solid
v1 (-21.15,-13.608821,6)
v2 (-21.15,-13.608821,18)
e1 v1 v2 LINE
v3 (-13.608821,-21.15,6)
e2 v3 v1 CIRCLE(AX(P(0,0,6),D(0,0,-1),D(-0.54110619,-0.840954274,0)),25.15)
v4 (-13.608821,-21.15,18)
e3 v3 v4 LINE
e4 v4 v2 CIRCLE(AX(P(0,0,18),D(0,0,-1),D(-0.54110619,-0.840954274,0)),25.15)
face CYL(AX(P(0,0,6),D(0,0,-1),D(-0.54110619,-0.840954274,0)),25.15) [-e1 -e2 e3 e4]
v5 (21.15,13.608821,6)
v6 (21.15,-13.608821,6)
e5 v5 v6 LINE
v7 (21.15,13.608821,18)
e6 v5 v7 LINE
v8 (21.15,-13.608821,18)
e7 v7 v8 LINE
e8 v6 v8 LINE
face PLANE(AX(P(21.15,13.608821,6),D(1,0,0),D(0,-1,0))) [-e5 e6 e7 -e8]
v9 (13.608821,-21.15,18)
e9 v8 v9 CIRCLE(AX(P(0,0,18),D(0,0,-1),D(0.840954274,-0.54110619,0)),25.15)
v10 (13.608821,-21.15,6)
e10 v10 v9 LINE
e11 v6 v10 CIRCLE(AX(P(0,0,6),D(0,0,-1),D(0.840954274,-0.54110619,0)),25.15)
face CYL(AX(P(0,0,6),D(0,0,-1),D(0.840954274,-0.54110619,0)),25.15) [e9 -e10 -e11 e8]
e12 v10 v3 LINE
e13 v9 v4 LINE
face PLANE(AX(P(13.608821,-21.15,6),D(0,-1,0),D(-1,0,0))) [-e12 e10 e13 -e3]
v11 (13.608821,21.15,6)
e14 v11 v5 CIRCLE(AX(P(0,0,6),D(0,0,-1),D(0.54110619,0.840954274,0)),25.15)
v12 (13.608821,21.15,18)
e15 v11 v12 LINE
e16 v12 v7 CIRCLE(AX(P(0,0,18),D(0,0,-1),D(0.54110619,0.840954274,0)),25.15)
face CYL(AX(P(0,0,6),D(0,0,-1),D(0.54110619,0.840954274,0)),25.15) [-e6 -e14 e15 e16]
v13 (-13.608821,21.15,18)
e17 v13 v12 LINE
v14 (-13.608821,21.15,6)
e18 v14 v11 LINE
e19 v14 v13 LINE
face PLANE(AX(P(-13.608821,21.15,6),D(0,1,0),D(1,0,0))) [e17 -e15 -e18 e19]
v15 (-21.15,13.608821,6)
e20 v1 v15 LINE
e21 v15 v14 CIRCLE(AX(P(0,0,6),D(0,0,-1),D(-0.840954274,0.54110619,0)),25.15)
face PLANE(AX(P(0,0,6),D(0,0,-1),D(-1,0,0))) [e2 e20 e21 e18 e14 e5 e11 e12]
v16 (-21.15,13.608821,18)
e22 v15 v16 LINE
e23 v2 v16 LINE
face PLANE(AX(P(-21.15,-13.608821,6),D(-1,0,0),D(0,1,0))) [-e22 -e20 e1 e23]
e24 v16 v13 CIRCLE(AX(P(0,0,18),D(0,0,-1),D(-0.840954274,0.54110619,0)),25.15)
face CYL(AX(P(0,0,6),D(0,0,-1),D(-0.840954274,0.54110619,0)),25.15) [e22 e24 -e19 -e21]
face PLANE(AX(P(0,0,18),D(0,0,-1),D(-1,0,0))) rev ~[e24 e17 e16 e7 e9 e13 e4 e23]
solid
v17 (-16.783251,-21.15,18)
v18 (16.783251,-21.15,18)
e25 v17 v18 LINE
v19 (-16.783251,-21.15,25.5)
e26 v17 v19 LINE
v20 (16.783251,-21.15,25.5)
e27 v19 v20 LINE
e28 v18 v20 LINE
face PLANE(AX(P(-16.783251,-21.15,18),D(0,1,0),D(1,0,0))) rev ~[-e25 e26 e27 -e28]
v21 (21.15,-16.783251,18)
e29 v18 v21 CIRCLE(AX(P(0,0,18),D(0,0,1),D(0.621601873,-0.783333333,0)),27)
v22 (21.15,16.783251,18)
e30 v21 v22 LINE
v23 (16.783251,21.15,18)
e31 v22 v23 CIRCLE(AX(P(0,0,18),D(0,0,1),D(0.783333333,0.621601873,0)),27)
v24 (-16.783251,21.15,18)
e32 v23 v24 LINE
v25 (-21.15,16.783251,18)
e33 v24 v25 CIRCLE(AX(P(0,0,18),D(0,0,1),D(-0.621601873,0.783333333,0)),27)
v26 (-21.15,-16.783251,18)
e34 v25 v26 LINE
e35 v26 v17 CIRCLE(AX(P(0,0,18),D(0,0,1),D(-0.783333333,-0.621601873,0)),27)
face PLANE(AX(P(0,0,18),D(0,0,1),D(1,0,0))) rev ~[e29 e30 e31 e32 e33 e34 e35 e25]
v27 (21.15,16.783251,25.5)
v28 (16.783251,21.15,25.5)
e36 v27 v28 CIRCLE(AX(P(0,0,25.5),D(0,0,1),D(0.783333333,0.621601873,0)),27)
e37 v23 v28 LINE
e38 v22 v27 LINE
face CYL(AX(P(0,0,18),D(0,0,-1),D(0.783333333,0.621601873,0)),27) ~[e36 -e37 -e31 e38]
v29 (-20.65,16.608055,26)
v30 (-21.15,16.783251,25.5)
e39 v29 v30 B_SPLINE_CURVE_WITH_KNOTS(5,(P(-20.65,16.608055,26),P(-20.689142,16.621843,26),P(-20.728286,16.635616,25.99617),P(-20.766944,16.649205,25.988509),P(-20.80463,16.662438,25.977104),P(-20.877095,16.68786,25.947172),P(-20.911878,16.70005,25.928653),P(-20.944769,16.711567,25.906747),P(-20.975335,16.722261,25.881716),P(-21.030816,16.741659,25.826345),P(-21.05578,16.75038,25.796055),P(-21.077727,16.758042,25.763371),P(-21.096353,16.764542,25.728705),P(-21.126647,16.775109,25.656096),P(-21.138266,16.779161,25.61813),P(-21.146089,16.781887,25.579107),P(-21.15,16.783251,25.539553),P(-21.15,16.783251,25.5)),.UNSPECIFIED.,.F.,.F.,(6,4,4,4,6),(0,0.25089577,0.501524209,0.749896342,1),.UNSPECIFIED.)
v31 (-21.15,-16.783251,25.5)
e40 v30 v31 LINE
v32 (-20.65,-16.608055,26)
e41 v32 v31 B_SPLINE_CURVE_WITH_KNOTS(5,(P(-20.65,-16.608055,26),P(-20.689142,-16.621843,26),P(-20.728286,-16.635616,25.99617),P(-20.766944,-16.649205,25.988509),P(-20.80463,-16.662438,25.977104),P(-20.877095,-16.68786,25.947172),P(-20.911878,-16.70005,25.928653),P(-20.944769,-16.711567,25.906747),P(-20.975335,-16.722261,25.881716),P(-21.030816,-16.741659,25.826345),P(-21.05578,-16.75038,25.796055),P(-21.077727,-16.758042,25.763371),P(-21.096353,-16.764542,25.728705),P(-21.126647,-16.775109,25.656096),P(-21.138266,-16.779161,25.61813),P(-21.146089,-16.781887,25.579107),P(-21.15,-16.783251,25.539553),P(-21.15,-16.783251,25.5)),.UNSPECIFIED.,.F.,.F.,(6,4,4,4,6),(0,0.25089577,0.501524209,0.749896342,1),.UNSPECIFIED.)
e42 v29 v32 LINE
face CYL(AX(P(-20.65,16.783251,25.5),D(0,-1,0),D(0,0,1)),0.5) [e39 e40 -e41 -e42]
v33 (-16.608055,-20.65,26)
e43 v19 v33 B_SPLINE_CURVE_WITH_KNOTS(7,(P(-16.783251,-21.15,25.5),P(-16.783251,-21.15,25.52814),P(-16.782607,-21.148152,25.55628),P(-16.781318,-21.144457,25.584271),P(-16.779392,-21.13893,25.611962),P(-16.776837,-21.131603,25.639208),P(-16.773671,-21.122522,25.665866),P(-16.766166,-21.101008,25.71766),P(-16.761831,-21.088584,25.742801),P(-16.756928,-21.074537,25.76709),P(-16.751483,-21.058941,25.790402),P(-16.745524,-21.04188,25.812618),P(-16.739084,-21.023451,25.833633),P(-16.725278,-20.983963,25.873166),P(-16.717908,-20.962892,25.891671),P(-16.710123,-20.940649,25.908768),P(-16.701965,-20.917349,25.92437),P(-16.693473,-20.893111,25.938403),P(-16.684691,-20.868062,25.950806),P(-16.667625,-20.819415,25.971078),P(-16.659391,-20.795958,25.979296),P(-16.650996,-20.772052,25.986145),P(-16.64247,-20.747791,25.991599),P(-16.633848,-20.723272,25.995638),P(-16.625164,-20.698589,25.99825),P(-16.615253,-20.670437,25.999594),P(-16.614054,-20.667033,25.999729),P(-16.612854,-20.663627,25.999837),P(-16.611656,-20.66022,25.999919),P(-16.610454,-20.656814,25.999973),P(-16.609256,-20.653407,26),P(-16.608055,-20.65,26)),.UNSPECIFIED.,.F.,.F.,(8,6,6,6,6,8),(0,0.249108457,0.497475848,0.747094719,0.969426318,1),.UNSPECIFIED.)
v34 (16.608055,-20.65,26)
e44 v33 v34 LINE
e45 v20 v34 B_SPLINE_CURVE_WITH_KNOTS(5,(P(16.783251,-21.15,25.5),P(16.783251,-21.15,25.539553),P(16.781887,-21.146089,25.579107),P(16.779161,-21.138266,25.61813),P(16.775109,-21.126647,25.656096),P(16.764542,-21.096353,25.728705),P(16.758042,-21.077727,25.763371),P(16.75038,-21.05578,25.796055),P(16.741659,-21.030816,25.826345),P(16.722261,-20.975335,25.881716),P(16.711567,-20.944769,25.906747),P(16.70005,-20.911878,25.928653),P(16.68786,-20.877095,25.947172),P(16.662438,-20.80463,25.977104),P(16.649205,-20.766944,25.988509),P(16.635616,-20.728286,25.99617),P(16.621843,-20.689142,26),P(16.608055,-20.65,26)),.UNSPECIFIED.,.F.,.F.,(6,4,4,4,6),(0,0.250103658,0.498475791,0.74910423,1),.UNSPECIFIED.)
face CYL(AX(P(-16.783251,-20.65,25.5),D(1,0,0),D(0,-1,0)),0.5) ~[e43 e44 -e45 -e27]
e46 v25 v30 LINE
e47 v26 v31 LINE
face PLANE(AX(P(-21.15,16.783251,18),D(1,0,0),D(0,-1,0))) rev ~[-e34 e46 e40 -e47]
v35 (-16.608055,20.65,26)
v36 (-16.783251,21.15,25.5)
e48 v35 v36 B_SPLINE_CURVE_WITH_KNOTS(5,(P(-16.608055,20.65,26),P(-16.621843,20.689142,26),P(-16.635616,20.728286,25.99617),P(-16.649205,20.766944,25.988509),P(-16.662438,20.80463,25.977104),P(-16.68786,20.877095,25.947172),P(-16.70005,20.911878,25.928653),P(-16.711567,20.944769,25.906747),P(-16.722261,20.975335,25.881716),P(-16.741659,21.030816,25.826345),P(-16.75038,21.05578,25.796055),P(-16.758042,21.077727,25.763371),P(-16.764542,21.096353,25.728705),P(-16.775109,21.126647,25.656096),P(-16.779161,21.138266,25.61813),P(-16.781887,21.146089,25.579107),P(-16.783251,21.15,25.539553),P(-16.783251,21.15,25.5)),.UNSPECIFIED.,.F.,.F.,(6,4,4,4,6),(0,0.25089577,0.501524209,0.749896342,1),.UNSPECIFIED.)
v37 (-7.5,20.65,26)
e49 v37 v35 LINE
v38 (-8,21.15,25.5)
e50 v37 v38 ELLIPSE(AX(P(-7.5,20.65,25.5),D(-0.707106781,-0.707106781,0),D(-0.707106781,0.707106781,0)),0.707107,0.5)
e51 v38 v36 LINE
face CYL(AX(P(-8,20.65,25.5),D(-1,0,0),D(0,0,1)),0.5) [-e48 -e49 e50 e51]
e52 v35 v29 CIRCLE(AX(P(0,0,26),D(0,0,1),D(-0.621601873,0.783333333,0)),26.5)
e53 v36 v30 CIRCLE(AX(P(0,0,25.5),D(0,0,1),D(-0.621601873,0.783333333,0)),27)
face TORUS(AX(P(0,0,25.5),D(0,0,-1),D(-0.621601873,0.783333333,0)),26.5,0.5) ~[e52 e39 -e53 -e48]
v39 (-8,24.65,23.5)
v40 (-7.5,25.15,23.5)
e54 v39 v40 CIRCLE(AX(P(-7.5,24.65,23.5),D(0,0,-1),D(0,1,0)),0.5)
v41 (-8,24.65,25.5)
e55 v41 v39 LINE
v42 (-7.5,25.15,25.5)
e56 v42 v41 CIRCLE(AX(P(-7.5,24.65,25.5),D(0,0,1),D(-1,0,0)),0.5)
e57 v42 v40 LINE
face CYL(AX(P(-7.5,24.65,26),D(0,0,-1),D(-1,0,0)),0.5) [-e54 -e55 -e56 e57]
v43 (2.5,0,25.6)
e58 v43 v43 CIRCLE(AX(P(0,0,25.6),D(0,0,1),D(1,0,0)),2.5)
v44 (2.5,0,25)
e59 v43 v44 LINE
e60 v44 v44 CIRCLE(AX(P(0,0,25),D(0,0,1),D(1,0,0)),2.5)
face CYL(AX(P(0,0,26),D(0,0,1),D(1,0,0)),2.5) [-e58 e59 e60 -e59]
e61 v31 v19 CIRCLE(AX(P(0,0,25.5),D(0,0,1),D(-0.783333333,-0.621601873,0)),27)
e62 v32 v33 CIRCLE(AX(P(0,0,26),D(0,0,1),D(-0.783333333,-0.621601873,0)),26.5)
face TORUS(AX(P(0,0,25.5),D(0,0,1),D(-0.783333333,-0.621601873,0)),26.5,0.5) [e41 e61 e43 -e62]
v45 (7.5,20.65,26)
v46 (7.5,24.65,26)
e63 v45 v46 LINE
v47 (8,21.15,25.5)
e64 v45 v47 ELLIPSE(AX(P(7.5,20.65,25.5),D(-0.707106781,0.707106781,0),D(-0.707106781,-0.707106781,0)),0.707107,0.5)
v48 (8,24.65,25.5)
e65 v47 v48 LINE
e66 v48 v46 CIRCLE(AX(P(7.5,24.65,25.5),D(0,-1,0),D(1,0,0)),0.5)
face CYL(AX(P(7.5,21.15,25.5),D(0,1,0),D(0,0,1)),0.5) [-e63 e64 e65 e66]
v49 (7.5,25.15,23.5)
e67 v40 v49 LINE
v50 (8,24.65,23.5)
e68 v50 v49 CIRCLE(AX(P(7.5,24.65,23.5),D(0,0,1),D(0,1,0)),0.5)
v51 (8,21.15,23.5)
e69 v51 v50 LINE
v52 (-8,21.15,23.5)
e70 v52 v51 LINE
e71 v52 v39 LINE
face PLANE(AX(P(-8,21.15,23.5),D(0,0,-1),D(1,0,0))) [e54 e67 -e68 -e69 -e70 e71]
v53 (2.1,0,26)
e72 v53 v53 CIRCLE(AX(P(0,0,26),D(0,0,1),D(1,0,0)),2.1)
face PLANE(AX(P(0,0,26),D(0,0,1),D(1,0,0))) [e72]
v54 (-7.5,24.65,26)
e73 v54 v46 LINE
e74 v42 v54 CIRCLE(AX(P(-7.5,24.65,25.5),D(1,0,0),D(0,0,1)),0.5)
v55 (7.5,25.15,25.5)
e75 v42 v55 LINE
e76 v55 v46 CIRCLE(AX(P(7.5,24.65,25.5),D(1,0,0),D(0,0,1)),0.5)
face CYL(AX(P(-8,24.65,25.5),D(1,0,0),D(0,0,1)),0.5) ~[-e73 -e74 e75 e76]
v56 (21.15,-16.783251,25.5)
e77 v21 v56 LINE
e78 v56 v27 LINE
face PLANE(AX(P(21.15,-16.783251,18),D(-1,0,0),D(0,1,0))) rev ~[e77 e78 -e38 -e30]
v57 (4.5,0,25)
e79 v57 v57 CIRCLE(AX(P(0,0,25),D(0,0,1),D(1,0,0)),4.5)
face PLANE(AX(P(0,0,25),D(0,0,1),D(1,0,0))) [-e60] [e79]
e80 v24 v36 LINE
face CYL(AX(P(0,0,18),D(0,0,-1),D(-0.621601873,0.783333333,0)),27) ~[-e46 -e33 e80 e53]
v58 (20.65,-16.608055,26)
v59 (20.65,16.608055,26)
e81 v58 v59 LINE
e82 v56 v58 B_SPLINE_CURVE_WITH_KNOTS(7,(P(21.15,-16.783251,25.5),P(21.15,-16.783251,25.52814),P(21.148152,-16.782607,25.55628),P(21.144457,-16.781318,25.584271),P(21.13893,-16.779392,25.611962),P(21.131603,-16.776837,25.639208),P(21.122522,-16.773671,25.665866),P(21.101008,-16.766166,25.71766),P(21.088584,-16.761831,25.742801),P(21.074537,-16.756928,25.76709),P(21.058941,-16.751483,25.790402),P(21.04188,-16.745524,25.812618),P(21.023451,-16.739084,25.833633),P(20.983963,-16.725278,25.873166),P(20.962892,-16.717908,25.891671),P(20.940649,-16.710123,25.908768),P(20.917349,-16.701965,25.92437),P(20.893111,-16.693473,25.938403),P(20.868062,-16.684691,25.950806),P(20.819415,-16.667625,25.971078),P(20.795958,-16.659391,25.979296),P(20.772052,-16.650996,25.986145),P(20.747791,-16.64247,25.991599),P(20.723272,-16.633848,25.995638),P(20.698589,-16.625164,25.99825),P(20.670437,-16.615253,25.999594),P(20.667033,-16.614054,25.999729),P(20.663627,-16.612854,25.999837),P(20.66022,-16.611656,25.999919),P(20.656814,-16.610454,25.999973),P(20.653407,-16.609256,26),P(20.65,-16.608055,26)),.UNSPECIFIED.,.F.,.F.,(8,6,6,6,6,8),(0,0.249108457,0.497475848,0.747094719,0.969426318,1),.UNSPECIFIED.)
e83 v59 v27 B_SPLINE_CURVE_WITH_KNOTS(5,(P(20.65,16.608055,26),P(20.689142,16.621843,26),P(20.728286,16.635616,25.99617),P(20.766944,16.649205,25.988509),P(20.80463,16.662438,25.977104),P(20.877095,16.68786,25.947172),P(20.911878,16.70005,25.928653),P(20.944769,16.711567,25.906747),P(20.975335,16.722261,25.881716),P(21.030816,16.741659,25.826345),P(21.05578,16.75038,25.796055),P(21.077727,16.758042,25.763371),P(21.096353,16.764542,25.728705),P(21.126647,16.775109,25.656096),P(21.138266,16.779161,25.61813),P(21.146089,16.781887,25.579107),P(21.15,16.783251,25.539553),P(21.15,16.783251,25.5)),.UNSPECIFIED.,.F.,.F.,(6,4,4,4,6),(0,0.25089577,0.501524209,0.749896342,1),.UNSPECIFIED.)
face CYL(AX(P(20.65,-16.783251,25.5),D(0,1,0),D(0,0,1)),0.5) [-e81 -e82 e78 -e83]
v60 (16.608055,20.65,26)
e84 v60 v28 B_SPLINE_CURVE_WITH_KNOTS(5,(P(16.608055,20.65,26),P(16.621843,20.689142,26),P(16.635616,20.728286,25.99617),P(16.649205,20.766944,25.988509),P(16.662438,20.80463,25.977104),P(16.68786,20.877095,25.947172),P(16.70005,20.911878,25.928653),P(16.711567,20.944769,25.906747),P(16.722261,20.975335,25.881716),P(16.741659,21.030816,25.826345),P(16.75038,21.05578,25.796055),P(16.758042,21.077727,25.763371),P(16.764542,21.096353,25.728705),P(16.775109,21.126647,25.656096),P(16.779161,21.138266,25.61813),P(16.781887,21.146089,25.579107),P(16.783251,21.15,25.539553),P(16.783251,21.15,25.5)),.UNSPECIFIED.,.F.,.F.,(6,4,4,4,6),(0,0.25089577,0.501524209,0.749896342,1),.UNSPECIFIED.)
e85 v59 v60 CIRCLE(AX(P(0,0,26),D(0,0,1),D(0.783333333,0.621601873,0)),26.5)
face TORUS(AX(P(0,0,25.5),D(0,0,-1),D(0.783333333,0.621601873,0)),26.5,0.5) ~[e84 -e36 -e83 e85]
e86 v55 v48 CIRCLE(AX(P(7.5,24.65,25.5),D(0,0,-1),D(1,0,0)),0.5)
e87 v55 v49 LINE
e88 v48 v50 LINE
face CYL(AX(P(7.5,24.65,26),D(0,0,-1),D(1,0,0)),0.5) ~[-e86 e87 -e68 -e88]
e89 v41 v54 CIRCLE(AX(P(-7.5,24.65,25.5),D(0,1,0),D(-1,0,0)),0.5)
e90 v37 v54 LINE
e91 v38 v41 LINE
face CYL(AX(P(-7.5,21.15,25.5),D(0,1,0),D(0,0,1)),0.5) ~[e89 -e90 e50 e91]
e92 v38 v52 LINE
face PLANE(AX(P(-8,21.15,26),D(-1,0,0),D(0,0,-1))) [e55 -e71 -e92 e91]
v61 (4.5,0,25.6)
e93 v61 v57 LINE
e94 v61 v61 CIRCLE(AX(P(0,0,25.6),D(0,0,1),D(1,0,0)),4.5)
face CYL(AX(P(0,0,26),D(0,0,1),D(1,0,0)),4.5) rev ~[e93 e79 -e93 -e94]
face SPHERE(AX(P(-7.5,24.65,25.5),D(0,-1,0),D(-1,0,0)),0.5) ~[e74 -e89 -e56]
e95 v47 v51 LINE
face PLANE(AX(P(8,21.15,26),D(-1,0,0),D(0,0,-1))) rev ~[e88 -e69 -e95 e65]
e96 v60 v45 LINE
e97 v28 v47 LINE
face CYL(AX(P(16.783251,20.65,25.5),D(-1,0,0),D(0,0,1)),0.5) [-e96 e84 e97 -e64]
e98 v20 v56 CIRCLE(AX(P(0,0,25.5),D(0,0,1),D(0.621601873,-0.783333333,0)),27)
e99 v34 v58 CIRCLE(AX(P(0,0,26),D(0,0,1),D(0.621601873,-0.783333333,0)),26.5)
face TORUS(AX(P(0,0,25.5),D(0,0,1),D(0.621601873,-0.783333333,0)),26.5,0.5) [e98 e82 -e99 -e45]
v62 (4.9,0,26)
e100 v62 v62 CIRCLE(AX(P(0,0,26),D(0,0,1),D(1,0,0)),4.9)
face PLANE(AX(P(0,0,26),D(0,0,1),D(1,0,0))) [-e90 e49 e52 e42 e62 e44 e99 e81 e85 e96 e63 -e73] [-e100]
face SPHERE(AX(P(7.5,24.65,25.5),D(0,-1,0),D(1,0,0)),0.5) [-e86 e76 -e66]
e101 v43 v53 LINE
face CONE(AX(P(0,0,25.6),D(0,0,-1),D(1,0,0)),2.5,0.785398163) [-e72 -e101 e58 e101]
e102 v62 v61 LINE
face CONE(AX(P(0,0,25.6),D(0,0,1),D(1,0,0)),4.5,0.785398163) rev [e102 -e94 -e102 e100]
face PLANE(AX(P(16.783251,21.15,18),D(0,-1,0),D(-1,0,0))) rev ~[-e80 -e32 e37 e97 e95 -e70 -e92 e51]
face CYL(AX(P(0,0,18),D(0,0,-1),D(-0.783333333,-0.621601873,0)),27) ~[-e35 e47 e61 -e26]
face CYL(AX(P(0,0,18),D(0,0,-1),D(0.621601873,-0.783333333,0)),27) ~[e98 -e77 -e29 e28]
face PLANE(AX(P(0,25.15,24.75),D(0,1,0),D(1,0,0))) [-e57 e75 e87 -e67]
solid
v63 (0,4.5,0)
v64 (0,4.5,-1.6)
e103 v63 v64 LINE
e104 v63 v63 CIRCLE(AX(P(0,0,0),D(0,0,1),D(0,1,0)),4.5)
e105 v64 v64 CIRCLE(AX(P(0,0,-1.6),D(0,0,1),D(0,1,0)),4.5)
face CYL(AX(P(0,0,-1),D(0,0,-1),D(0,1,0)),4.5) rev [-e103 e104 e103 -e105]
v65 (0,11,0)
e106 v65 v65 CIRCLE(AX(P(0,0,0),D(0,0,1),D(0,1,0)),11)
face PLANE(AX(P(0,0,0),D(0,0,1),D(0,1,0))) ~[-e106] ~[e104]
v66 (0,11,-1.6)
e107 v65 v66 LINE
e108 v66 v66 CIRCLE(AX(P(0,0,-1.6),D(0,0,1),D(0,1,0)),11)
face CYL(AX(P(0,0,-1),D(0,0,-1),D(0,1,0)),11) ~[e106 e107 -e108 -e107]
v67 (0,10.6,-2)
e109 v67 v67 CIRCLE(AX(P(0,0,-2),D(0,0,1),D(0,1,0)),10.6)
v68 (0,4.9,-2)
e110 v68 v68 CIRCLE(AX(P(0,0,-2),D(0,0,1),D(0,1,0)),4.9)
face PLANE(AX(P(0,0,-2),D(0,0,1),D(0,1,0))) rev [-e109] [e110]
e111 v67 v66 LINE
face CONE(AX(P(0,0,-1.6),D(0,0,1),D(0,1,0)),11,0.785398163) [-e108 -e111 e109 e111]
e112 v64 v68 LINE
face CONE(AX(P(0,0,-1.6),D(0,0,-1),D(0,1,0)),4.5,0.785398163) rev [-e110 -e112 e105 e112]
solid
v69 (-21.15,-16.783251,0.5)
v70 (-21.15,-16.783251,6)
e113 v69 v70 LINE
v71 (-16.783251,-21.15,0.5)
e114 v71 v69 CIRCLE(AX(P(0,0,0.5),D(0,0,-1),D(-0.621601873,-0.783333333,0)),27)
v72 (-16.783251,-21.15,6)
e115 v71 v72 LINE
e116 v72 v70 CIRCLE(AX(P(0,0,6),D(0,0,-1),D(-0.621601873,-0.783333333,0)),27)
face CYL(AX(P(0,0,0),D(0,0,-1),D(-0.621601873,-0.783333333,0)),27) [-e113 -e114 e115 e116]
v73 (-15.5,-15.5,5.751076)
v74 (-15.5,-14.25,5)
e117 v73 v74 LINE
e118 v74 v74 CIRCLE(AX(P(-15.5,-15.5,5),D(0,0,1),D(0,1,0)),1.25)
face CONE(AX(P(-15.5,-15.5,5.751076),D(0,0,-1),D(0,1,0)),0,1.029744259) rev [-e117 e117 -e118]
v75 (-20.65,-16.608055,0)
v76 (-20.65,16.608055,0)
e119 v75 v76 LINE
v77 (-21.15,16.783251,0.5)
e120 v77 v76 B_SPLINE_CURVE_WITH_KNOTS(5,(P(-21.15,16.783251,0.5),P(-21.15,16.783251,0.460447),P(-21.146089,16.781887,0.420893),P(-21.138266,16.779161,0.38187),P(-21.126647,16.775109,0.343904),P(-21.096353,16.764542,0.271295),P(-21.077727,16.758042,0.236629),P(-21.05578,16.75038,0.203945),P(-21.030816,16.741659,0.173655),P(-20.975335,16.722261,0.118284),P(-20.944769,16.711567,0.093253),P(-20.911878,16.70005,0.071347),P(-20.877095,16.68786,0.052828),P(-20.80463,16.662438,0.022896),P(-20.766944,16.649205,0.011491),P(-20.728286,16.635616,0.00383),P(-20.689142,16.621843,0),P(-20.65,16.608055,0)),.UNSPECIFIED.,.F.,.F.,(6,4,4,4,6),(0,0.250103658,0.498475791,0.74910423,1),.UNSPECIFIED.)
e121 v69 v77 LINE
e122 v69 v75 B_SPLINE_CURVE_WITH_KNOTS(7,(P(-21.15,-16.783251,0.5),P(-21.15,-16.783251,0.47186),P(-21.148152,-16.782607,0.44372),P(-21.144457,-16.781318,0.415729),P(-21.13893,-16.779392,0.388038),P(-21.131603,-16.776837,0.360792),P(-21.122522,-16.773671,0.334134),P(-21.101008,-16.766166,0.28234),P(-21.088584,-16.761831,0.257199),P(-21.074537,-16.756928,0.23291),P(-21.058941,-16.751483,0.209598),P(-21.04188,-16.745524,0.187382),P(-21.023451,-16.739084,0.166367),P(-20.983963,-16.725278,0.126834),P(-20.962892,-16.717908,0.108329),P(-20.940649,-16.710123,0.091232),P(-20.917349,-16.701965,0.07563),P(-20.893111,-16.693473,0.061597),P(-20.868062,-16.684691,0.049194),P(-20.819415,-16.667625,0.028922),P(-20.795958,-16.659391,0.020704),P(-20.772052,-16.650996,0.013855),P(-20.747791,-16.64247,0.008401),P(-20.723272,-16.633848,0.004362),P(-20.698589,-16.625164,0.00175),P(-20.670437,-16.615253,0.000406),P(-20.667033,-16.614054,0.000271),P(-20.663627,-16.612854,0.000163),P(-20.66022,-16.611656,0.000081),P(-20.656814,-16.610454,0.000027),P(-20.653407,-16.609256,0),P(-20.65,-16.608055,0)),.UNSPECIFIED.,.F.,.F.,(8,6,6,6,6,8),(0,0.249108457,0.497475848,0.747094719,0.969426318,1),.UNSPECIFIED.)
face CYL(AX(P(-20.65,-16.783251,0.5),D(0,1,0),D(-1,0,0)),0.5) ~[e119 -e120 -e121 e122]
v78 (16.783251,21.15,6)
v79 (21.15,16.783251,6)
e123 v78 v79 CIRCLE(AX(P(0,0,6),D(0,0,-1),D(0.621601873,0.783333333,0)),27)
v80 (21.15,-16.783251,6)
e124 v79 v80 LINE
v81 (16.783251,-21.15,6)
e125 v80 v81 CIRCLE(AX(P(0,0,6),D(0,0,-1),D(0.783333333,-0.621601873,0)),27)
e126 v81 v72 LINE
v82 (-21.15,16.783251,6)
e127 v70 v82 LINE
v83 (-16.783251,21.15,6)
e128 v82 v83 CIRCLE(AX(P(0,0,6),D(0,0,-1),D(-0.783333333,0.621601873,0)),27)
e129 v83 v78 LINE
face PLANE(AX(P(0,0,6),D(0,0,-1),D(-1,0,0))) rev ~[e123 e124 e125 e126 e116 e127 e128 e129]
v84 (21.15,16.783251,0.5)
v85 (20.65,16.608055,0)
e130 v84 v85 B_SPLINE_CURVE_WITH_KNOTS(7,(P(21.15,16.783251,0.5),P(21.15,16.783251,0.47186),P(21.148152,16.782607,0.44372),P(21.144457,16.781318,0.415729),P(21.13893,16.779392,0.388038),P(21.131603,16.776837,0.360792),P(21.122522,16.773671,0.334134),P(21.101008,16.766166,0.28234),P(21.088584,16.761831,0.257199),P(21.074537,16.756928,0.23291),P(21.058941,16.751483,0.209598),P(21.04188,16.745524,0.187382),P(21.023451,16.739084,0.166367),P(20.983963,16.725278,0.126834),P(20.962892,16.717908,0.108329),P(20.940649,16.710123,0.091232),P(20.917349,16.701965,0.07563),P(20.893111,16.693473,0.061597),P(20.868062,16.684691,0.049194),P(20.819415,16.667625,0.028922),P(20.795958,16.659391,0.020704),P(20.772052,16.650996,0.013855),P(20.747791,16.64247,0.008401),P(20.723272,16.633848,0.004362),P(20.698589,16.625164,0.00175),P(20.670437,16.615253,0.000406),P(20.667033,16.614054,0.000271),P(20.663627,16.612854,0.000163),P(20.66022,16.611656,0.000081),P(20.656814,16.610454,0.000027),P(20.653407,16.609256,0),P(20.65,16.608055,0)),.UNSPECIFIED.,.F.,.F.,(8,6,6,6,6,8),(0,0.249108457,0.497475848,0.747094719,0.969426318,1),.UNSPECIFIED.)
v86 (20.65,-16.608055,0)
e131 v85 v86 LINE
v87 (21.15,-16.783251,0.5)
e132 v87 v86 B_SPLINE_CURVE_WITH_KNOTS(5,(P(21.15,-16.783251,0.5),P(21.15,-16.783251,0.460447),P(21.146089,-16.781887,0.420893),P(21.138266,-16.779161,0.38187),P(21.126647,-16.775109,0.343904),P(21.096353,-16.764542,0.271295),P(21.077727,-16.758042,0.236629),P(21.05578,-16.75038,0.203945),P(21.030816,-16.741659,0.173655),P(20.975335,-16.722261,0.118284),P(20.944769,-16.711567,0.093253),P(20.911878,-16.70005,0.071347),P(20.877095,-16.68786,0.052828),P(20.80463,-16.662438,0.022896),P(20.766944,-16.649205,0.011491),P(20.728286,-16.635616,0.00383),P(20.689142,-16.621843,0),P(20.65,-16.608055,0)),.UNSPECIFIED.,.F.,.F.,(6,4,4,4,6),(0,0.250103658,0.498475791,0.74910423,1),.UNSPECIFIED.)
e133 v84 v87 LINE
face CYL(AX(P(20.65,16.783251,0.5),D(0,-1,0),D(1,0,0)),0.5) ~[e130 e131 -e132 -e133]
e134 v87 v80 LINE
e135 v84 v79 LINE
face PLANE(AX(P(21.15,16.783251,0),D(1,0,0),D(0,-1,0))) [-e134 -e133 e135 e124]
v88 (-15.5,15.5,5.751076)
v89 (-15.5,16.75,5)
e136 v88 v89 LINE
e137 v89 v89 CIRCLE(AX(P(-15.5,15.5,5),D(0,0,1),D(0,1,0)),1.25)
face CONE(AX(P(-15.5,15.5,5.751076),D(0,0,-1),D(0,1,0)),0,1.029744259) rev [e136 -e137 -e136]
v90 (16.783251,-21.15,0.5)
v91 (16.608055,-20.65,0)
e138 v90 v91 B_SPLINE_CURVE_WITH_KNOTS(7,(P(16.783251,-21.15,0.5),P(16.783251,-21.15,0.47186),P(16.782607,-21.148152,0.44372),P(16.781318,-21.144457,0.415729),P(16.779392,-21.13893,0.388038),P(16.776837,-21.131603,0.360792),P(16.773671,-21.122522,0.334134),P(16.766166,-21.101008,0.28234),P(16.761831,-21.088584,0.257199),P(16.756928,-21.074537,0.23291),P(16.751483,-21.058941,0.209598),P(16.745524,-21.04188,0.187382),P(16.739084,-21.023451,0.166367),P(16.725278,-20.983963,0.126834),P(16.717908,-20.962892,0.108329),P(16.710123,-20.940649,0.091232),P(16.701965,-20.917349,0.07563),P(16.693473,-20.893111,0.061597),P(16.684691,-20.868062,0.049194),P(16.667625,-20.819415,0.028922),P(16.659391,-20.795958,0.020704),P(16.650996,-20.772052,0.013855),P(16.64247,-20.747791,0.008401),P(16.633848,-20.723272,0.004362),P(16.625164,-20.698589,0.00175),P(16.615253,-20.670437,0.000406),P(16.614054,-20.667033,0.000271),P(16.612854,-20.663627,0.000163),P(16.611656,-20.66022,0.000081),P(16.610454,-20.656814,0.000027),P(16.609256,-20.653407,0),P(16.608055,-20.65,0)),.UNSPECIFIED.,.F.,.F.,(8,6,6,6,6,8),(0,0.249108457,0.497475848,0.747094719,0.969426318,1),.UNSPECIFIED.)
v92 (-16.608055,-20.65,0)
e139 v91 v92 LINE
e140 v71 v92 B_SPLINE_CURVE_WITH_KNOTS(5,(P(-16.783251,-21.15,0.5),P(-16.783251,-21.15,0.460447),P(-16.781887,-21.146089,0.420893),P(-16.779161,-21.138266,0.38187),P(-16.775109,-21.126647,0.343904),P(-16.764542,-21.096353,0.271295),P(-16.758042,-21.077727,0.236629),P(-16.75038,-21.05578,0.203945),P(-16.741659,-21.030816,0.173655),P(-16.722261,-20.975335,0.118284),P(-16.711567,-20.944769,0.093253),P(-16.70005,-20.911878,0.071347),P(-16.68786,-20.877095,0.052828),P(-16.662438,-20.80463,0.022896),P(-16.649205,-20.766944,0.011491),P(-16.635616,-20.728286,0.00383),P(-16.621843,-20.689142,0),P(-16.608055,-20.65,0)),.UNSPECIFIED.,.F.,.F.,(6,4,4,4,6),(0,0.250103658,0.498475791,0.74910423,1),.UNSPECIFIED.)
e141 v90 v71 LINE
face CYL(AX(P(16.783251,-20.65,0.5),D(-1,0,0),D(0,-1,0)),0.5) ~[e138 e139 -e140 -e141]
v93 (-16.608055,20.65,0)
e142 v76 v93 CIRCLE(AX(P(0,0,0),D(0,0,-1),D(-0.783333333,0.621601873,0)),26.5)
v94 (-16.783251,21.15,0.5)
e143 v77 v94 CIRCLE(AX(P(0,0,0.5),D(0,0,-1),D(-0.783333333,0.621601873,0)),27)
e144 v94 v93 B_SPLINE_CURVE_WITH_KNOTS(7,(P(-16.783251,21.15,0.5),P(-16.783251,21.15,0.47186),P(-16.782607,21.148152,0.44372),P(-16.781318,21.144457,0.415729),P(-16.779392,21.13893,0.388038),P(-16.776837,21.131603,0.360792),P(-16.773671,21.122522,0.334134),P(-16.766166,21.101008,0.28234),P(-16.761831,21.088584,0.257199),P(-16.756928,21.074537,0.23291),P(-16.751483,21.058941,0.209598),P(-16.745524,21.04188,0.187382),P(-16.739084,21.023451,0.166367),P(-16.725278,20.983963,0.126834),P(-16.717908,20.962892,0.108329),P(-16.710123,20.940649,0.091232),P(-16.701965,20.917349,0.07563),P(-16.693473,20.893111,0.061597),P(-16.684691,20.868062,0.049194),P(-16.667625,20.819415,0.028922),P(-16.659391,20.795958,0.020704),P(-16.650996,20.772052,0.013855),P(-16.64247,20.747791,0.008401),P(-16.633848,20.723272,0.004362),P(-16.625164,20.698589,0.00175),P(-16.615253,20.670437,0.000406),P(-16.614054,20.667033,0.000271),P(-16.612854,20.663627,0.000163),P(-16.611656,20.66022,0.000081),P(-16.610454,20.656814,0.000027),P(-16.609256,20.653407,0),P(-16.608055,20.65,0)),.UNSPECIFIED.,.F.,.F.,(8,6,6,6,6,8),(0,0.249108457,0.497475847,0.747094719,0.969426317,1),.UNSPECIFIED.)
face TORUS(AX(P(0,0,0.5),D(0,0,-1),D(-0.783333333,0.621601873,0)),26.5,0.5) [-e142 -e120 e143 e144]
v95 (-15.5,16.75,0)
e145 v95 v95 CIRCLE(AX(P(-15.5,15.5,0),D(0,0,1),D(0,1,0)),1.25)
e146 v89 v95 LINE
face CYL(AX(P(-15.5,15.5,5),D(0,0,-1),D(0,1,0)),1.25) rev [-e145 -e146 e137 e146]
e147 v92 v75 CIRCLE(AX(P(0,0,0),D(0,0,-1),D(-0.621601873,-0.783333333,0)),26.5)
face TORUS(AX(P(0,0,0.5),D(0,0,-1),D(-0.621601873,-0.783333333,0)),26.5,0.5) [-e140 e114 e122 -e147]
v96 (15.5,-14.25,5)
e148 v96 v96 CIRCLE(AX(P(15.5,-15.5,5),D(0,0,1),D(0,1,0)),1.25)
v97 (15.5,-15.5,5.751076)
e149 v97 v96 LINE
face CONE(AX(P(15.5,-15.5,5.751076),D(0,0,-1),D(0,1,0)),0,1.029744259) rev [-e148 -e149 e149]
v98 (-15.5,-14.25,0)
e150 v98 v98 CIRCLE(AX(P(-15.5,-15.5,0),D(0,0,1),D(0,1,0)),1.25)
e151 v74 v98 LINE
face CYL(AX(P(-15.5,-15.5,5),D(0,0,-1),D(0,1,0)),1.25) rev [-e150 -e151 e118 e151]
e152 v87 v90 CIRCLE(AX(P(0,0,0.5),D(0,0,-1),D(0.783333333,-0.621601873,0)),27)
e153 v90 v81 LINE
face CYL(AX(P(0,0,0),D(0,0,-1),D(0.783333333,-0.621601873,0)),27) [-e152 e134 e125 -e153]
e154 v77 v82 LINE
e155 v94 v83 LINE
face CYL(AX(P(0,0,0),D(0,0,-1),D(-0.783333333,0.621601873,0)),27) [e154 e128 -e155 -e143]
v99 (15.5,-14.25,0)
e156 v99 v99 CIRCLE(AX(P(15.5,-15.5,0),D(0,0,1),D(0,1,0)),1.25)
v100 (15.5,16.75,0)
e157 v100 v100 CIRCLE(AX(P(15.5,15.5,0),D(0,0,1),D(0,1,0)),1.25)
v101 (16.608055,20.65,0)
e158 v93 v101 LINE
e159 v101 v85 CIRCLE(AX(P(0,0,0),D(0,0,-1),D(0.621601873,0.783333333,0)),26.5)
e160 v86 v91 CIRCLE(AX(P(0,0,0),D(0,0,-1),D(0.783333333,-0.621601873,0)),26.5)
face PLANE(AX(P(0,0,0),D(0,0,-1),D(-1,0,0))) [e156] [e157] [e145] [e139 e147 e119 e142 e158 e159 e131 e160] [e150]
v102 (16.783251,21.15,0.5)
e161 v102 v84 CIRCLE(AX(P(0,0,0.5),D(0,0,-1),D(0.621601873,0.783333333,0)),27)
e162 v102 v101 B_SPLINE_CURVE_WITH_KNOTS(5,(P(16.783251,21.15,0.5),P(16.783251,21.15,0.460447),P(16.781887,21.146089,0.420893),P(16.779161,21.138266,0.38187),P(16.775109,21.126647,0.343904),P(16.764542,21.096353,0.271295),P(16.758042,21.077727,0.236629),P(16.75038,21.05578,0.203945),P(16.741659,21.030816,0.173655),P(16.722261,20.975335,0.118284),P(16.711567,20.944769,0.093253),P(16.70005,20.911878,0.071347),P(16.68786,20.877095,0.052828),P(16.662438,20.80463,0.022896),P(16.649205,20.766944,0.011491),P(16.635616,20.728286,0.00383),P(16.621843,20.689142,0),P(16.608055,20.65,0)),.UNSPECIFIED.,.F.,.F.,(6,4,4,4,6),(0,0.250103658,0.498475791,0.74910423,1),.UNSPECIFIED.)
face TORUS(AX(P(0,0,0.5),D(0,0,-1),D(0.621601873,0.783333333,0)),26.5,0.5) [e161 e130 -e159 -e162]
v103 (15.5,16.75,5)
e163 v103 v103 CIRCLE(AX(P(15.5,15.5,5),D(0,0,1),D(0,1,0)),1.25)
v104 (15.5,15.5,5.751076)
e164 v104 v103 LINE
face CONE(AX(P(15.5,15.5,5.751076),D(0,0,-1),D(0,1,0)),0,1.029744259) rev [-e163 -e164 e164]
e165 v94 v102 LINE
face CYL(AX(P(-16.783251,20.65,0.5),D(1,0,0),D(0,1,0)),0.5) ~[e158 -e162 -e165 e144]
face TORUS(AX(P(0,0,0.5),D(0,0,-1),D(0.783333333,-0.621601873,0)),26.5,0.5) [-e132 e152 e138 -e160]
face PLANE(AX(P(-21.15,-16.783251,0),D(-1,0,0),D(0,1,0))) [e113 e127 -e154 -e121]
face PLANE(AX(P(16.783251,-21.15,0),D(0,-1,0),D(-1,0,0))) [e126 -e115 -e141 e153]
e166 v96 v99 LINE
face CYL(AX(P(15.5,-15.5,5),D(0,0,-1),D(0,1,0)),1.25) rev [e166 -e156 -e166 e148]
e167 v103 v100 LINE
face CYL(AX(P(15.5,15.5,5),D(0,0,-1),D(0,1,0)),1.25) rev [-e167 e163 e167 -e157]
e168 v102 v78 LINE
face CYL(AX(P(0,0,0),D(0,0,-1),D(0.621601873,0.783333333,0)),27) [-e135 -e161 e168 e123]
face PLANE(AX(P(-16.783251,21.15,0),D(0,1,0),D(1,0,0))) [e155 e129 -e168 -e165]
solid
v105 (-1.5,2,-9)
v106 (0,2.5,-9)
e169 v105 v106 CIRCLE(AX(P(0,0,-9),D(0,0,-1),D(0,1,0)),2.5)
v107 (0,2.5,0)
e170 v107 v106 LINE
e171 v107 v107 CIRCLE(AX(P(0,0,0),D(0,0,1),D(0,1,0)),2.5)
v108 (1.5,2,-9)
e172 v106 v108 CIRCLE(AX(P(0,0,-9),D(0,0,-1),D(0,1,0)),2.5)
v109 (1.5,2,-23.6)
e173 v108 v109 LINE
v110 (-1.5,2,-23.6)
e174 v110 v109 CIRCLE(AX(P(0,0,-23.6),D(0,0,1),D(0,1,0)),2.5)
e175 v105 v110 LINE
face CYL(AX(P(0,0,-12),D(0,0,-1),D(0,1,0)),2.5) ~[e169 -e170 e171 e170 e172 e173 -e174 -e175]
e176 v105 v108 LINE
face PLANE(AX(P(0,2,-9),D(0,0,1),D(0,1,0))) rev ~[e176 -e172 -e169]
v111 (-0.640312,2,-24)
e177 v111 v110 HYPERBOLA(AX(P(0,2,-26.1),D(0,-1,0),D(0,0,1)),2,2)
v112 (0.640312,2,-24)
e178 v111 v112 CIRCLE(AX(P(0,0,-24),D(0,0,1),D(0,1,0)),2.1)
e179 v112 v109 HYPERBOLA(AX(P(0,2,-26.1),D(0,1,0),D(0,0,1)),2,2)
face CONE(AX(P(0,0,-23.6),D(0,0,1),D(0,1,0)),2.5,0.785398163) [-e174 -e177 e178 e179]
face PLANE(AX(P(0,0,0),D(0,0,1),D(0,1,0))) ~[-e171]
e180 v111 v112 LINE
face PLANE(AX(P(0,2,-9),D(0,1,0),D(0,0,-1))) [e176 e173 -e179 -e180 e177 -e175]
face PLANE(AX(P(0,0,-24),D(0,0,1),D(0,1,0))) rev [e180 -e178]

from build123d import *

# Parameters (mm, degrees)
BOSS_EXTRU_1_DEPTH           = 6
BOSS_EXTRU_2_DEPTH           = 12
BOSS_EXTRU_3_DEPTH           = 8
ESQUISSE4_W                  = 16
ESQUISSE4_H                  = 2.5
BOSS_EXTRU_4_DEPTH           = 4
ESQUISSE5_W                  = 2
ESQUISSE5_H                  = 6.5
ESQUISSE5_W_2                = 24
ESQUISSE5_H_2                = 2.5
CONG_1_R                     = 0.5
CONG_2_R                     = 0.5
CHANFREIN1_SIZE              = 0.4
CHANFREIN2_SIZE              = 0.4
ESQUISSE6_W                  = 15
ESQUISSE6_H                  = 0.5
ENL_V_MAT_EXTRU_1_DEPTH      = 22.1500001
ENL_V_MAT_EXTRU_1_DEPTH_BACK = 22.1500001
ESQUISSE7_R                  = 4.5
ESQUISSE7_R_2                = 2.5
ENL_V_MAT_EXTRU_2_DEPTH      = 1
CHANFREIN3_SIZE              = 0.4
TROU_TARAUD_M31_AT_2_COUNT   = 2
TROU_TARAUD_M31_AT_2_PITCH   = 31
TROU_TARAUD_M31_AT_3_COUNT   = 2
TROU_TARAUD_M31_AT_3_PITCH   = 43.840620434
TROU_TARAUD_M31_AT_4_COUNT   = 2
TROU_TARAUD_M31_AT_4_PITCH   = 31


with BuildPart() as part:
    # Esquisse1 → Boss.-Extru.1 (new body)
    with BuildSketch(Plane.XY):
        with BuildLine():
            Line((21.15, 16.783250579), (21.15, -16.783250579))
            ThreePointArc((21.15, -16.783250579), (19.091883092, -19.091883092), (16.783250579, -21.15))
            Line((16.783250579, -21.15), (-16.783250579, -21.15))
            ThreePointArc((-16.783250579, -21.15), (-19.091883092, -19.091883092), (-21.15, -16.783250579))
            Line((-21.15, -16.783250579), (-21.15, 16.783250579))
            ThreePointArc((-21.15, 16.783250579), (-19.091883092, 19.091883092), (-16.783250579, 21.15))
            Line((-16.783250579, 21.15), (16.783250579, 21.15))
            ThreePointArc((16.783250579, 21.15), (19.091883092, 19.091883092), (21.15, 16.783250579))
        make_face()
    extrude(amount=BOSS_EXTRU_1_DEPTH)

    # Congé2
    cong_2_edges = [part.edges().sort_by_distance(p)[0] for p in [
        (0, 21.15, 0),
        (19.091883092, 19.091883092, 0),
        (21.15, 0, 0),
        (19.091883092, -19.091883092, 0),
        (0, -21.15, 0),
        (-19.091883092, -19.091883092, 0),
        (-21.15, 0, 0),
        (-19.091883092, 19.091883092, 0),
    ]]
    fillet(cong_2_edges, radius=CONG_2_R)

    # Esquisse9 → Trou taraudé M31 (revolve, cut)
    with BuildSketch(Plane(origin=(15.5, -15.5, 0), x_dir=(0, 1, 0), z_dir=(1, 0, 0))):
        Polygon((0, 0), (0, 5.751075774), (1.25, 5), (1.25, 0), align=None)
    trou_taraud_m31 = revolve(axis=Axis((15.5, -15.5, -6.35), (0, 0, 1)), mode=Mode.SUBTRACT)

    # Trou taraudé M31 at 2: Trou taraudé M31 ×2
    with Locations(*[(0, i * TROU_TARAUD_M31_AT_2_PITCH, 0) for i in range(1, TROU_TARAUD_M31_AT_2_COUNT)]):
        add(trou_taraud_m31, mode=Mode.SUBTRACT)

    # Trou taraudé M31 at 3: Trou taraudé M31 ×2
    with Locations(*[Vector(-0.707106781, 0.707106781, 0) * (i * TROU_TARAUD_M31_AT_3_PITCH) for i in range(1, TROU_TARAUD_M31_AT_3_COUNT)]):
        add(trou_taraud_m31, mode=Mode.SUBTRACT)

    # Trou taraudé M31 at 4: Trou taraudé M31 ×2
    with Locations(*[(-i * TROU_TARAUD_M31_AT_4_PITCH, 0, 0) for i in range(1, TROU_TARAUD_M31_AT_4_COUNT)]):
        add(trou_taraud_m31, mode=Mode.SUBTRACT)


with BuildPart() as body_2:
    # Esquisse2 → Boss.-Extru.2 (new body)
    with BuildSketch(Plane.XY.offset(6)):
        with BuildLine():
            Line((-13.608820669, 21.15), (13.608820669, 21.15))
            ThreePointArc((13.608820669, 21.15), (17.783735547, 17.783735547), (21.15, 13.608820669))
            Line((21.15, 13.608820669), (21.15, -13.608820669))
            ThreePointArc((21.15, -13.608820669), (17.783735547, -17.783735547), (13.608820669, -21.15))
            Line((13.608820669, -21.15), (-13.608820669, -21.15))
            ThreePointArc((-13.608820669, -21.15), (-17.783735547, -17.783735547), (-21.15, -13.608820669))
            Line((-21.15, -13.608820669), (-21.15, 13.608820669))
            ThreePointArc((-21.15, 13.608820669), (-17.783735547, 17.783735547), (-13.608820669, 21.15))
        make_face()
    extrude(amount=BOSS_EXTRU_2_DEPTH)


with BuildPart() as body_3:
    # Esquisse3 → Boss.-Extru.3 (new body)
    with BuildSketch(Plane.XY.offset(18)):
        with BuildLine():
            Line((-16.783250579, -21.15), (16.783250579, -21.15))
            ThreePointArc((16.783250579, -21.15), (19.091883092, -19.091883092), (21.15, -16.783250579))
            Line((21.15, -16.783250579), (21.15, 16.783250579))
            ThreePointArc((21.15, 16.783250579), (19.091883092, 19.091883092), (16.783250579, 21.15))
            Line((16.783250579, 21.15), (-16.783250579, 21.15))
            ThreePointArc((-16.783250579, 21.15), (-19.091883092, 19.091883092), (-21.15, 16.783250579))
            Line((-21.15, 16.783250579), (-21.15, -16.783250579))
            ThreePointArc((-21.15, -16.783250579), (-19.091883092, -19.091883092), (-16.783250579, -21.15))
        make_face()
    extrude(amount=BOSS_EXTRU_3_DEPTH)

    # Esquisse4 → Boss.-Extru.4 (add)
    with BuildSketch(Plane(origin=(0, 21.15, 0), x_dir=(1, 0, 0), z_dir=(0, 1, 0))):
        with Locations((0, -24.75)):
            Rectangle(ESQUISSE4_W, ESQUISSE4_H)
    extrude(amount=BOSS_EXTRU_4_DEPTH)

    # Congé1
    cong_1_edges = [body_3.edges().sort_by_distance(p)[0] for p in [
        (19.091883092, -19.091883092, 26),
        (21.15, 0, 26),
        (19.091883092, 19.091883092, 26),
        (12.39162529, 21.15, 26),
        (-19.091883092, 19.091883092, 26),
        (-21.15, 0, 26),
        (-12.39162529, 21.15, 26),
        (8, 23.15, 26),
        (-8, 23.15, 26),
        (8, 25.15, 24.75),
        (-8, 25.15, 24.75),
        (0, 25.15, 26),
        (-19.091883092, -19.091883092, 26),
        (0, -21.15, 26),
    ]]
    fillet(cong_1_edges, radius=CONG_1_R)

    # Esquisse7 → Enlèv. mat.-Extru.2 (cut)
    with BuildSketch(Plane.XY.offset(26)):
        Circle(ESQUISSE7_R)
        Circle(ESQUISSE7_R_2, mode=Mode.SUBTRACT)
    extrude(amount=-ENL_V_MAT_EXTRU_2_DEPTH, mode=Mode.SUBTRACT)

    # Chanfrein3
    chanfrein3_edges = [body_3.edges().sort_by_distance(p)[0] for p in [
        (-4.5, 0, 26),
        (-2.5, 0, 26),
    ]]
    chamfer(chanfrein3_edges, length=CHANFREIN3_SIZE)


with BuildPart() as body_4:
    # Esquisse5 → Révolution1 (revolve)
    with BuildSketch(Plane(origin=(0, 0, 0), x_dir=(0, 0, -1), z_dir=(1, 0, 0))):
        with Locations((1, 7.75)):
            Rectangle(ESQUISSE5_W, ESQUISSE5_H)
        with Locations((12, 1.25)):
            Rectangle(ESQUISSE5_W_2, ESQUISSE5_H_2)
    revolve(axis=Axis((0, 0, 0), (0, 0, 1)))

    # Chanfrein1
    chanfrein1_edges = [body_4.edges().sort_by_distance(p)[0] for p in [
        (0, -2.5, -24),
    ]]
    chamfer(chanfrein1_edges, length=CHANFREIN1_SIZE)

    # Chanfrein2
    chanfrein2_edges = [body_4.edges().sort_by_distance(p)[0] for p in [
        (0, -11, -2),
        (0, -4.5, -2),
    ]]
    chamfer(chanfrein2_edges, length=CHANFREIN2_SIZE)

    # Esquisse6 → Enlèv. mat.-Extru.1 (cut, two sides)
    with BuildSketch(Plane(origin=(0, 0, 0), x_dir=(0, 0, -1), z_dir=(1, 0, 0))) as enl_v_mat_extru_1_sk:
        with Locations((16.5, 2.25)):
            Rectangle(ESQUISSE6_W, ESQUISSE6_H)
    extrude(amount=ENL_V_MAT_EXTRU_1_DEPTH, mode=Mode.SUBTRACT)
    extrude(enl_v_mat_extru_1_sk.sketch, amount=-ENL_V_MAT_EXTRU_1_DEPTH_BACK, mode=Mode.SUBTRACT)


solid = Compound([part.part, body_2.part, body_3.part, body_4.part])
